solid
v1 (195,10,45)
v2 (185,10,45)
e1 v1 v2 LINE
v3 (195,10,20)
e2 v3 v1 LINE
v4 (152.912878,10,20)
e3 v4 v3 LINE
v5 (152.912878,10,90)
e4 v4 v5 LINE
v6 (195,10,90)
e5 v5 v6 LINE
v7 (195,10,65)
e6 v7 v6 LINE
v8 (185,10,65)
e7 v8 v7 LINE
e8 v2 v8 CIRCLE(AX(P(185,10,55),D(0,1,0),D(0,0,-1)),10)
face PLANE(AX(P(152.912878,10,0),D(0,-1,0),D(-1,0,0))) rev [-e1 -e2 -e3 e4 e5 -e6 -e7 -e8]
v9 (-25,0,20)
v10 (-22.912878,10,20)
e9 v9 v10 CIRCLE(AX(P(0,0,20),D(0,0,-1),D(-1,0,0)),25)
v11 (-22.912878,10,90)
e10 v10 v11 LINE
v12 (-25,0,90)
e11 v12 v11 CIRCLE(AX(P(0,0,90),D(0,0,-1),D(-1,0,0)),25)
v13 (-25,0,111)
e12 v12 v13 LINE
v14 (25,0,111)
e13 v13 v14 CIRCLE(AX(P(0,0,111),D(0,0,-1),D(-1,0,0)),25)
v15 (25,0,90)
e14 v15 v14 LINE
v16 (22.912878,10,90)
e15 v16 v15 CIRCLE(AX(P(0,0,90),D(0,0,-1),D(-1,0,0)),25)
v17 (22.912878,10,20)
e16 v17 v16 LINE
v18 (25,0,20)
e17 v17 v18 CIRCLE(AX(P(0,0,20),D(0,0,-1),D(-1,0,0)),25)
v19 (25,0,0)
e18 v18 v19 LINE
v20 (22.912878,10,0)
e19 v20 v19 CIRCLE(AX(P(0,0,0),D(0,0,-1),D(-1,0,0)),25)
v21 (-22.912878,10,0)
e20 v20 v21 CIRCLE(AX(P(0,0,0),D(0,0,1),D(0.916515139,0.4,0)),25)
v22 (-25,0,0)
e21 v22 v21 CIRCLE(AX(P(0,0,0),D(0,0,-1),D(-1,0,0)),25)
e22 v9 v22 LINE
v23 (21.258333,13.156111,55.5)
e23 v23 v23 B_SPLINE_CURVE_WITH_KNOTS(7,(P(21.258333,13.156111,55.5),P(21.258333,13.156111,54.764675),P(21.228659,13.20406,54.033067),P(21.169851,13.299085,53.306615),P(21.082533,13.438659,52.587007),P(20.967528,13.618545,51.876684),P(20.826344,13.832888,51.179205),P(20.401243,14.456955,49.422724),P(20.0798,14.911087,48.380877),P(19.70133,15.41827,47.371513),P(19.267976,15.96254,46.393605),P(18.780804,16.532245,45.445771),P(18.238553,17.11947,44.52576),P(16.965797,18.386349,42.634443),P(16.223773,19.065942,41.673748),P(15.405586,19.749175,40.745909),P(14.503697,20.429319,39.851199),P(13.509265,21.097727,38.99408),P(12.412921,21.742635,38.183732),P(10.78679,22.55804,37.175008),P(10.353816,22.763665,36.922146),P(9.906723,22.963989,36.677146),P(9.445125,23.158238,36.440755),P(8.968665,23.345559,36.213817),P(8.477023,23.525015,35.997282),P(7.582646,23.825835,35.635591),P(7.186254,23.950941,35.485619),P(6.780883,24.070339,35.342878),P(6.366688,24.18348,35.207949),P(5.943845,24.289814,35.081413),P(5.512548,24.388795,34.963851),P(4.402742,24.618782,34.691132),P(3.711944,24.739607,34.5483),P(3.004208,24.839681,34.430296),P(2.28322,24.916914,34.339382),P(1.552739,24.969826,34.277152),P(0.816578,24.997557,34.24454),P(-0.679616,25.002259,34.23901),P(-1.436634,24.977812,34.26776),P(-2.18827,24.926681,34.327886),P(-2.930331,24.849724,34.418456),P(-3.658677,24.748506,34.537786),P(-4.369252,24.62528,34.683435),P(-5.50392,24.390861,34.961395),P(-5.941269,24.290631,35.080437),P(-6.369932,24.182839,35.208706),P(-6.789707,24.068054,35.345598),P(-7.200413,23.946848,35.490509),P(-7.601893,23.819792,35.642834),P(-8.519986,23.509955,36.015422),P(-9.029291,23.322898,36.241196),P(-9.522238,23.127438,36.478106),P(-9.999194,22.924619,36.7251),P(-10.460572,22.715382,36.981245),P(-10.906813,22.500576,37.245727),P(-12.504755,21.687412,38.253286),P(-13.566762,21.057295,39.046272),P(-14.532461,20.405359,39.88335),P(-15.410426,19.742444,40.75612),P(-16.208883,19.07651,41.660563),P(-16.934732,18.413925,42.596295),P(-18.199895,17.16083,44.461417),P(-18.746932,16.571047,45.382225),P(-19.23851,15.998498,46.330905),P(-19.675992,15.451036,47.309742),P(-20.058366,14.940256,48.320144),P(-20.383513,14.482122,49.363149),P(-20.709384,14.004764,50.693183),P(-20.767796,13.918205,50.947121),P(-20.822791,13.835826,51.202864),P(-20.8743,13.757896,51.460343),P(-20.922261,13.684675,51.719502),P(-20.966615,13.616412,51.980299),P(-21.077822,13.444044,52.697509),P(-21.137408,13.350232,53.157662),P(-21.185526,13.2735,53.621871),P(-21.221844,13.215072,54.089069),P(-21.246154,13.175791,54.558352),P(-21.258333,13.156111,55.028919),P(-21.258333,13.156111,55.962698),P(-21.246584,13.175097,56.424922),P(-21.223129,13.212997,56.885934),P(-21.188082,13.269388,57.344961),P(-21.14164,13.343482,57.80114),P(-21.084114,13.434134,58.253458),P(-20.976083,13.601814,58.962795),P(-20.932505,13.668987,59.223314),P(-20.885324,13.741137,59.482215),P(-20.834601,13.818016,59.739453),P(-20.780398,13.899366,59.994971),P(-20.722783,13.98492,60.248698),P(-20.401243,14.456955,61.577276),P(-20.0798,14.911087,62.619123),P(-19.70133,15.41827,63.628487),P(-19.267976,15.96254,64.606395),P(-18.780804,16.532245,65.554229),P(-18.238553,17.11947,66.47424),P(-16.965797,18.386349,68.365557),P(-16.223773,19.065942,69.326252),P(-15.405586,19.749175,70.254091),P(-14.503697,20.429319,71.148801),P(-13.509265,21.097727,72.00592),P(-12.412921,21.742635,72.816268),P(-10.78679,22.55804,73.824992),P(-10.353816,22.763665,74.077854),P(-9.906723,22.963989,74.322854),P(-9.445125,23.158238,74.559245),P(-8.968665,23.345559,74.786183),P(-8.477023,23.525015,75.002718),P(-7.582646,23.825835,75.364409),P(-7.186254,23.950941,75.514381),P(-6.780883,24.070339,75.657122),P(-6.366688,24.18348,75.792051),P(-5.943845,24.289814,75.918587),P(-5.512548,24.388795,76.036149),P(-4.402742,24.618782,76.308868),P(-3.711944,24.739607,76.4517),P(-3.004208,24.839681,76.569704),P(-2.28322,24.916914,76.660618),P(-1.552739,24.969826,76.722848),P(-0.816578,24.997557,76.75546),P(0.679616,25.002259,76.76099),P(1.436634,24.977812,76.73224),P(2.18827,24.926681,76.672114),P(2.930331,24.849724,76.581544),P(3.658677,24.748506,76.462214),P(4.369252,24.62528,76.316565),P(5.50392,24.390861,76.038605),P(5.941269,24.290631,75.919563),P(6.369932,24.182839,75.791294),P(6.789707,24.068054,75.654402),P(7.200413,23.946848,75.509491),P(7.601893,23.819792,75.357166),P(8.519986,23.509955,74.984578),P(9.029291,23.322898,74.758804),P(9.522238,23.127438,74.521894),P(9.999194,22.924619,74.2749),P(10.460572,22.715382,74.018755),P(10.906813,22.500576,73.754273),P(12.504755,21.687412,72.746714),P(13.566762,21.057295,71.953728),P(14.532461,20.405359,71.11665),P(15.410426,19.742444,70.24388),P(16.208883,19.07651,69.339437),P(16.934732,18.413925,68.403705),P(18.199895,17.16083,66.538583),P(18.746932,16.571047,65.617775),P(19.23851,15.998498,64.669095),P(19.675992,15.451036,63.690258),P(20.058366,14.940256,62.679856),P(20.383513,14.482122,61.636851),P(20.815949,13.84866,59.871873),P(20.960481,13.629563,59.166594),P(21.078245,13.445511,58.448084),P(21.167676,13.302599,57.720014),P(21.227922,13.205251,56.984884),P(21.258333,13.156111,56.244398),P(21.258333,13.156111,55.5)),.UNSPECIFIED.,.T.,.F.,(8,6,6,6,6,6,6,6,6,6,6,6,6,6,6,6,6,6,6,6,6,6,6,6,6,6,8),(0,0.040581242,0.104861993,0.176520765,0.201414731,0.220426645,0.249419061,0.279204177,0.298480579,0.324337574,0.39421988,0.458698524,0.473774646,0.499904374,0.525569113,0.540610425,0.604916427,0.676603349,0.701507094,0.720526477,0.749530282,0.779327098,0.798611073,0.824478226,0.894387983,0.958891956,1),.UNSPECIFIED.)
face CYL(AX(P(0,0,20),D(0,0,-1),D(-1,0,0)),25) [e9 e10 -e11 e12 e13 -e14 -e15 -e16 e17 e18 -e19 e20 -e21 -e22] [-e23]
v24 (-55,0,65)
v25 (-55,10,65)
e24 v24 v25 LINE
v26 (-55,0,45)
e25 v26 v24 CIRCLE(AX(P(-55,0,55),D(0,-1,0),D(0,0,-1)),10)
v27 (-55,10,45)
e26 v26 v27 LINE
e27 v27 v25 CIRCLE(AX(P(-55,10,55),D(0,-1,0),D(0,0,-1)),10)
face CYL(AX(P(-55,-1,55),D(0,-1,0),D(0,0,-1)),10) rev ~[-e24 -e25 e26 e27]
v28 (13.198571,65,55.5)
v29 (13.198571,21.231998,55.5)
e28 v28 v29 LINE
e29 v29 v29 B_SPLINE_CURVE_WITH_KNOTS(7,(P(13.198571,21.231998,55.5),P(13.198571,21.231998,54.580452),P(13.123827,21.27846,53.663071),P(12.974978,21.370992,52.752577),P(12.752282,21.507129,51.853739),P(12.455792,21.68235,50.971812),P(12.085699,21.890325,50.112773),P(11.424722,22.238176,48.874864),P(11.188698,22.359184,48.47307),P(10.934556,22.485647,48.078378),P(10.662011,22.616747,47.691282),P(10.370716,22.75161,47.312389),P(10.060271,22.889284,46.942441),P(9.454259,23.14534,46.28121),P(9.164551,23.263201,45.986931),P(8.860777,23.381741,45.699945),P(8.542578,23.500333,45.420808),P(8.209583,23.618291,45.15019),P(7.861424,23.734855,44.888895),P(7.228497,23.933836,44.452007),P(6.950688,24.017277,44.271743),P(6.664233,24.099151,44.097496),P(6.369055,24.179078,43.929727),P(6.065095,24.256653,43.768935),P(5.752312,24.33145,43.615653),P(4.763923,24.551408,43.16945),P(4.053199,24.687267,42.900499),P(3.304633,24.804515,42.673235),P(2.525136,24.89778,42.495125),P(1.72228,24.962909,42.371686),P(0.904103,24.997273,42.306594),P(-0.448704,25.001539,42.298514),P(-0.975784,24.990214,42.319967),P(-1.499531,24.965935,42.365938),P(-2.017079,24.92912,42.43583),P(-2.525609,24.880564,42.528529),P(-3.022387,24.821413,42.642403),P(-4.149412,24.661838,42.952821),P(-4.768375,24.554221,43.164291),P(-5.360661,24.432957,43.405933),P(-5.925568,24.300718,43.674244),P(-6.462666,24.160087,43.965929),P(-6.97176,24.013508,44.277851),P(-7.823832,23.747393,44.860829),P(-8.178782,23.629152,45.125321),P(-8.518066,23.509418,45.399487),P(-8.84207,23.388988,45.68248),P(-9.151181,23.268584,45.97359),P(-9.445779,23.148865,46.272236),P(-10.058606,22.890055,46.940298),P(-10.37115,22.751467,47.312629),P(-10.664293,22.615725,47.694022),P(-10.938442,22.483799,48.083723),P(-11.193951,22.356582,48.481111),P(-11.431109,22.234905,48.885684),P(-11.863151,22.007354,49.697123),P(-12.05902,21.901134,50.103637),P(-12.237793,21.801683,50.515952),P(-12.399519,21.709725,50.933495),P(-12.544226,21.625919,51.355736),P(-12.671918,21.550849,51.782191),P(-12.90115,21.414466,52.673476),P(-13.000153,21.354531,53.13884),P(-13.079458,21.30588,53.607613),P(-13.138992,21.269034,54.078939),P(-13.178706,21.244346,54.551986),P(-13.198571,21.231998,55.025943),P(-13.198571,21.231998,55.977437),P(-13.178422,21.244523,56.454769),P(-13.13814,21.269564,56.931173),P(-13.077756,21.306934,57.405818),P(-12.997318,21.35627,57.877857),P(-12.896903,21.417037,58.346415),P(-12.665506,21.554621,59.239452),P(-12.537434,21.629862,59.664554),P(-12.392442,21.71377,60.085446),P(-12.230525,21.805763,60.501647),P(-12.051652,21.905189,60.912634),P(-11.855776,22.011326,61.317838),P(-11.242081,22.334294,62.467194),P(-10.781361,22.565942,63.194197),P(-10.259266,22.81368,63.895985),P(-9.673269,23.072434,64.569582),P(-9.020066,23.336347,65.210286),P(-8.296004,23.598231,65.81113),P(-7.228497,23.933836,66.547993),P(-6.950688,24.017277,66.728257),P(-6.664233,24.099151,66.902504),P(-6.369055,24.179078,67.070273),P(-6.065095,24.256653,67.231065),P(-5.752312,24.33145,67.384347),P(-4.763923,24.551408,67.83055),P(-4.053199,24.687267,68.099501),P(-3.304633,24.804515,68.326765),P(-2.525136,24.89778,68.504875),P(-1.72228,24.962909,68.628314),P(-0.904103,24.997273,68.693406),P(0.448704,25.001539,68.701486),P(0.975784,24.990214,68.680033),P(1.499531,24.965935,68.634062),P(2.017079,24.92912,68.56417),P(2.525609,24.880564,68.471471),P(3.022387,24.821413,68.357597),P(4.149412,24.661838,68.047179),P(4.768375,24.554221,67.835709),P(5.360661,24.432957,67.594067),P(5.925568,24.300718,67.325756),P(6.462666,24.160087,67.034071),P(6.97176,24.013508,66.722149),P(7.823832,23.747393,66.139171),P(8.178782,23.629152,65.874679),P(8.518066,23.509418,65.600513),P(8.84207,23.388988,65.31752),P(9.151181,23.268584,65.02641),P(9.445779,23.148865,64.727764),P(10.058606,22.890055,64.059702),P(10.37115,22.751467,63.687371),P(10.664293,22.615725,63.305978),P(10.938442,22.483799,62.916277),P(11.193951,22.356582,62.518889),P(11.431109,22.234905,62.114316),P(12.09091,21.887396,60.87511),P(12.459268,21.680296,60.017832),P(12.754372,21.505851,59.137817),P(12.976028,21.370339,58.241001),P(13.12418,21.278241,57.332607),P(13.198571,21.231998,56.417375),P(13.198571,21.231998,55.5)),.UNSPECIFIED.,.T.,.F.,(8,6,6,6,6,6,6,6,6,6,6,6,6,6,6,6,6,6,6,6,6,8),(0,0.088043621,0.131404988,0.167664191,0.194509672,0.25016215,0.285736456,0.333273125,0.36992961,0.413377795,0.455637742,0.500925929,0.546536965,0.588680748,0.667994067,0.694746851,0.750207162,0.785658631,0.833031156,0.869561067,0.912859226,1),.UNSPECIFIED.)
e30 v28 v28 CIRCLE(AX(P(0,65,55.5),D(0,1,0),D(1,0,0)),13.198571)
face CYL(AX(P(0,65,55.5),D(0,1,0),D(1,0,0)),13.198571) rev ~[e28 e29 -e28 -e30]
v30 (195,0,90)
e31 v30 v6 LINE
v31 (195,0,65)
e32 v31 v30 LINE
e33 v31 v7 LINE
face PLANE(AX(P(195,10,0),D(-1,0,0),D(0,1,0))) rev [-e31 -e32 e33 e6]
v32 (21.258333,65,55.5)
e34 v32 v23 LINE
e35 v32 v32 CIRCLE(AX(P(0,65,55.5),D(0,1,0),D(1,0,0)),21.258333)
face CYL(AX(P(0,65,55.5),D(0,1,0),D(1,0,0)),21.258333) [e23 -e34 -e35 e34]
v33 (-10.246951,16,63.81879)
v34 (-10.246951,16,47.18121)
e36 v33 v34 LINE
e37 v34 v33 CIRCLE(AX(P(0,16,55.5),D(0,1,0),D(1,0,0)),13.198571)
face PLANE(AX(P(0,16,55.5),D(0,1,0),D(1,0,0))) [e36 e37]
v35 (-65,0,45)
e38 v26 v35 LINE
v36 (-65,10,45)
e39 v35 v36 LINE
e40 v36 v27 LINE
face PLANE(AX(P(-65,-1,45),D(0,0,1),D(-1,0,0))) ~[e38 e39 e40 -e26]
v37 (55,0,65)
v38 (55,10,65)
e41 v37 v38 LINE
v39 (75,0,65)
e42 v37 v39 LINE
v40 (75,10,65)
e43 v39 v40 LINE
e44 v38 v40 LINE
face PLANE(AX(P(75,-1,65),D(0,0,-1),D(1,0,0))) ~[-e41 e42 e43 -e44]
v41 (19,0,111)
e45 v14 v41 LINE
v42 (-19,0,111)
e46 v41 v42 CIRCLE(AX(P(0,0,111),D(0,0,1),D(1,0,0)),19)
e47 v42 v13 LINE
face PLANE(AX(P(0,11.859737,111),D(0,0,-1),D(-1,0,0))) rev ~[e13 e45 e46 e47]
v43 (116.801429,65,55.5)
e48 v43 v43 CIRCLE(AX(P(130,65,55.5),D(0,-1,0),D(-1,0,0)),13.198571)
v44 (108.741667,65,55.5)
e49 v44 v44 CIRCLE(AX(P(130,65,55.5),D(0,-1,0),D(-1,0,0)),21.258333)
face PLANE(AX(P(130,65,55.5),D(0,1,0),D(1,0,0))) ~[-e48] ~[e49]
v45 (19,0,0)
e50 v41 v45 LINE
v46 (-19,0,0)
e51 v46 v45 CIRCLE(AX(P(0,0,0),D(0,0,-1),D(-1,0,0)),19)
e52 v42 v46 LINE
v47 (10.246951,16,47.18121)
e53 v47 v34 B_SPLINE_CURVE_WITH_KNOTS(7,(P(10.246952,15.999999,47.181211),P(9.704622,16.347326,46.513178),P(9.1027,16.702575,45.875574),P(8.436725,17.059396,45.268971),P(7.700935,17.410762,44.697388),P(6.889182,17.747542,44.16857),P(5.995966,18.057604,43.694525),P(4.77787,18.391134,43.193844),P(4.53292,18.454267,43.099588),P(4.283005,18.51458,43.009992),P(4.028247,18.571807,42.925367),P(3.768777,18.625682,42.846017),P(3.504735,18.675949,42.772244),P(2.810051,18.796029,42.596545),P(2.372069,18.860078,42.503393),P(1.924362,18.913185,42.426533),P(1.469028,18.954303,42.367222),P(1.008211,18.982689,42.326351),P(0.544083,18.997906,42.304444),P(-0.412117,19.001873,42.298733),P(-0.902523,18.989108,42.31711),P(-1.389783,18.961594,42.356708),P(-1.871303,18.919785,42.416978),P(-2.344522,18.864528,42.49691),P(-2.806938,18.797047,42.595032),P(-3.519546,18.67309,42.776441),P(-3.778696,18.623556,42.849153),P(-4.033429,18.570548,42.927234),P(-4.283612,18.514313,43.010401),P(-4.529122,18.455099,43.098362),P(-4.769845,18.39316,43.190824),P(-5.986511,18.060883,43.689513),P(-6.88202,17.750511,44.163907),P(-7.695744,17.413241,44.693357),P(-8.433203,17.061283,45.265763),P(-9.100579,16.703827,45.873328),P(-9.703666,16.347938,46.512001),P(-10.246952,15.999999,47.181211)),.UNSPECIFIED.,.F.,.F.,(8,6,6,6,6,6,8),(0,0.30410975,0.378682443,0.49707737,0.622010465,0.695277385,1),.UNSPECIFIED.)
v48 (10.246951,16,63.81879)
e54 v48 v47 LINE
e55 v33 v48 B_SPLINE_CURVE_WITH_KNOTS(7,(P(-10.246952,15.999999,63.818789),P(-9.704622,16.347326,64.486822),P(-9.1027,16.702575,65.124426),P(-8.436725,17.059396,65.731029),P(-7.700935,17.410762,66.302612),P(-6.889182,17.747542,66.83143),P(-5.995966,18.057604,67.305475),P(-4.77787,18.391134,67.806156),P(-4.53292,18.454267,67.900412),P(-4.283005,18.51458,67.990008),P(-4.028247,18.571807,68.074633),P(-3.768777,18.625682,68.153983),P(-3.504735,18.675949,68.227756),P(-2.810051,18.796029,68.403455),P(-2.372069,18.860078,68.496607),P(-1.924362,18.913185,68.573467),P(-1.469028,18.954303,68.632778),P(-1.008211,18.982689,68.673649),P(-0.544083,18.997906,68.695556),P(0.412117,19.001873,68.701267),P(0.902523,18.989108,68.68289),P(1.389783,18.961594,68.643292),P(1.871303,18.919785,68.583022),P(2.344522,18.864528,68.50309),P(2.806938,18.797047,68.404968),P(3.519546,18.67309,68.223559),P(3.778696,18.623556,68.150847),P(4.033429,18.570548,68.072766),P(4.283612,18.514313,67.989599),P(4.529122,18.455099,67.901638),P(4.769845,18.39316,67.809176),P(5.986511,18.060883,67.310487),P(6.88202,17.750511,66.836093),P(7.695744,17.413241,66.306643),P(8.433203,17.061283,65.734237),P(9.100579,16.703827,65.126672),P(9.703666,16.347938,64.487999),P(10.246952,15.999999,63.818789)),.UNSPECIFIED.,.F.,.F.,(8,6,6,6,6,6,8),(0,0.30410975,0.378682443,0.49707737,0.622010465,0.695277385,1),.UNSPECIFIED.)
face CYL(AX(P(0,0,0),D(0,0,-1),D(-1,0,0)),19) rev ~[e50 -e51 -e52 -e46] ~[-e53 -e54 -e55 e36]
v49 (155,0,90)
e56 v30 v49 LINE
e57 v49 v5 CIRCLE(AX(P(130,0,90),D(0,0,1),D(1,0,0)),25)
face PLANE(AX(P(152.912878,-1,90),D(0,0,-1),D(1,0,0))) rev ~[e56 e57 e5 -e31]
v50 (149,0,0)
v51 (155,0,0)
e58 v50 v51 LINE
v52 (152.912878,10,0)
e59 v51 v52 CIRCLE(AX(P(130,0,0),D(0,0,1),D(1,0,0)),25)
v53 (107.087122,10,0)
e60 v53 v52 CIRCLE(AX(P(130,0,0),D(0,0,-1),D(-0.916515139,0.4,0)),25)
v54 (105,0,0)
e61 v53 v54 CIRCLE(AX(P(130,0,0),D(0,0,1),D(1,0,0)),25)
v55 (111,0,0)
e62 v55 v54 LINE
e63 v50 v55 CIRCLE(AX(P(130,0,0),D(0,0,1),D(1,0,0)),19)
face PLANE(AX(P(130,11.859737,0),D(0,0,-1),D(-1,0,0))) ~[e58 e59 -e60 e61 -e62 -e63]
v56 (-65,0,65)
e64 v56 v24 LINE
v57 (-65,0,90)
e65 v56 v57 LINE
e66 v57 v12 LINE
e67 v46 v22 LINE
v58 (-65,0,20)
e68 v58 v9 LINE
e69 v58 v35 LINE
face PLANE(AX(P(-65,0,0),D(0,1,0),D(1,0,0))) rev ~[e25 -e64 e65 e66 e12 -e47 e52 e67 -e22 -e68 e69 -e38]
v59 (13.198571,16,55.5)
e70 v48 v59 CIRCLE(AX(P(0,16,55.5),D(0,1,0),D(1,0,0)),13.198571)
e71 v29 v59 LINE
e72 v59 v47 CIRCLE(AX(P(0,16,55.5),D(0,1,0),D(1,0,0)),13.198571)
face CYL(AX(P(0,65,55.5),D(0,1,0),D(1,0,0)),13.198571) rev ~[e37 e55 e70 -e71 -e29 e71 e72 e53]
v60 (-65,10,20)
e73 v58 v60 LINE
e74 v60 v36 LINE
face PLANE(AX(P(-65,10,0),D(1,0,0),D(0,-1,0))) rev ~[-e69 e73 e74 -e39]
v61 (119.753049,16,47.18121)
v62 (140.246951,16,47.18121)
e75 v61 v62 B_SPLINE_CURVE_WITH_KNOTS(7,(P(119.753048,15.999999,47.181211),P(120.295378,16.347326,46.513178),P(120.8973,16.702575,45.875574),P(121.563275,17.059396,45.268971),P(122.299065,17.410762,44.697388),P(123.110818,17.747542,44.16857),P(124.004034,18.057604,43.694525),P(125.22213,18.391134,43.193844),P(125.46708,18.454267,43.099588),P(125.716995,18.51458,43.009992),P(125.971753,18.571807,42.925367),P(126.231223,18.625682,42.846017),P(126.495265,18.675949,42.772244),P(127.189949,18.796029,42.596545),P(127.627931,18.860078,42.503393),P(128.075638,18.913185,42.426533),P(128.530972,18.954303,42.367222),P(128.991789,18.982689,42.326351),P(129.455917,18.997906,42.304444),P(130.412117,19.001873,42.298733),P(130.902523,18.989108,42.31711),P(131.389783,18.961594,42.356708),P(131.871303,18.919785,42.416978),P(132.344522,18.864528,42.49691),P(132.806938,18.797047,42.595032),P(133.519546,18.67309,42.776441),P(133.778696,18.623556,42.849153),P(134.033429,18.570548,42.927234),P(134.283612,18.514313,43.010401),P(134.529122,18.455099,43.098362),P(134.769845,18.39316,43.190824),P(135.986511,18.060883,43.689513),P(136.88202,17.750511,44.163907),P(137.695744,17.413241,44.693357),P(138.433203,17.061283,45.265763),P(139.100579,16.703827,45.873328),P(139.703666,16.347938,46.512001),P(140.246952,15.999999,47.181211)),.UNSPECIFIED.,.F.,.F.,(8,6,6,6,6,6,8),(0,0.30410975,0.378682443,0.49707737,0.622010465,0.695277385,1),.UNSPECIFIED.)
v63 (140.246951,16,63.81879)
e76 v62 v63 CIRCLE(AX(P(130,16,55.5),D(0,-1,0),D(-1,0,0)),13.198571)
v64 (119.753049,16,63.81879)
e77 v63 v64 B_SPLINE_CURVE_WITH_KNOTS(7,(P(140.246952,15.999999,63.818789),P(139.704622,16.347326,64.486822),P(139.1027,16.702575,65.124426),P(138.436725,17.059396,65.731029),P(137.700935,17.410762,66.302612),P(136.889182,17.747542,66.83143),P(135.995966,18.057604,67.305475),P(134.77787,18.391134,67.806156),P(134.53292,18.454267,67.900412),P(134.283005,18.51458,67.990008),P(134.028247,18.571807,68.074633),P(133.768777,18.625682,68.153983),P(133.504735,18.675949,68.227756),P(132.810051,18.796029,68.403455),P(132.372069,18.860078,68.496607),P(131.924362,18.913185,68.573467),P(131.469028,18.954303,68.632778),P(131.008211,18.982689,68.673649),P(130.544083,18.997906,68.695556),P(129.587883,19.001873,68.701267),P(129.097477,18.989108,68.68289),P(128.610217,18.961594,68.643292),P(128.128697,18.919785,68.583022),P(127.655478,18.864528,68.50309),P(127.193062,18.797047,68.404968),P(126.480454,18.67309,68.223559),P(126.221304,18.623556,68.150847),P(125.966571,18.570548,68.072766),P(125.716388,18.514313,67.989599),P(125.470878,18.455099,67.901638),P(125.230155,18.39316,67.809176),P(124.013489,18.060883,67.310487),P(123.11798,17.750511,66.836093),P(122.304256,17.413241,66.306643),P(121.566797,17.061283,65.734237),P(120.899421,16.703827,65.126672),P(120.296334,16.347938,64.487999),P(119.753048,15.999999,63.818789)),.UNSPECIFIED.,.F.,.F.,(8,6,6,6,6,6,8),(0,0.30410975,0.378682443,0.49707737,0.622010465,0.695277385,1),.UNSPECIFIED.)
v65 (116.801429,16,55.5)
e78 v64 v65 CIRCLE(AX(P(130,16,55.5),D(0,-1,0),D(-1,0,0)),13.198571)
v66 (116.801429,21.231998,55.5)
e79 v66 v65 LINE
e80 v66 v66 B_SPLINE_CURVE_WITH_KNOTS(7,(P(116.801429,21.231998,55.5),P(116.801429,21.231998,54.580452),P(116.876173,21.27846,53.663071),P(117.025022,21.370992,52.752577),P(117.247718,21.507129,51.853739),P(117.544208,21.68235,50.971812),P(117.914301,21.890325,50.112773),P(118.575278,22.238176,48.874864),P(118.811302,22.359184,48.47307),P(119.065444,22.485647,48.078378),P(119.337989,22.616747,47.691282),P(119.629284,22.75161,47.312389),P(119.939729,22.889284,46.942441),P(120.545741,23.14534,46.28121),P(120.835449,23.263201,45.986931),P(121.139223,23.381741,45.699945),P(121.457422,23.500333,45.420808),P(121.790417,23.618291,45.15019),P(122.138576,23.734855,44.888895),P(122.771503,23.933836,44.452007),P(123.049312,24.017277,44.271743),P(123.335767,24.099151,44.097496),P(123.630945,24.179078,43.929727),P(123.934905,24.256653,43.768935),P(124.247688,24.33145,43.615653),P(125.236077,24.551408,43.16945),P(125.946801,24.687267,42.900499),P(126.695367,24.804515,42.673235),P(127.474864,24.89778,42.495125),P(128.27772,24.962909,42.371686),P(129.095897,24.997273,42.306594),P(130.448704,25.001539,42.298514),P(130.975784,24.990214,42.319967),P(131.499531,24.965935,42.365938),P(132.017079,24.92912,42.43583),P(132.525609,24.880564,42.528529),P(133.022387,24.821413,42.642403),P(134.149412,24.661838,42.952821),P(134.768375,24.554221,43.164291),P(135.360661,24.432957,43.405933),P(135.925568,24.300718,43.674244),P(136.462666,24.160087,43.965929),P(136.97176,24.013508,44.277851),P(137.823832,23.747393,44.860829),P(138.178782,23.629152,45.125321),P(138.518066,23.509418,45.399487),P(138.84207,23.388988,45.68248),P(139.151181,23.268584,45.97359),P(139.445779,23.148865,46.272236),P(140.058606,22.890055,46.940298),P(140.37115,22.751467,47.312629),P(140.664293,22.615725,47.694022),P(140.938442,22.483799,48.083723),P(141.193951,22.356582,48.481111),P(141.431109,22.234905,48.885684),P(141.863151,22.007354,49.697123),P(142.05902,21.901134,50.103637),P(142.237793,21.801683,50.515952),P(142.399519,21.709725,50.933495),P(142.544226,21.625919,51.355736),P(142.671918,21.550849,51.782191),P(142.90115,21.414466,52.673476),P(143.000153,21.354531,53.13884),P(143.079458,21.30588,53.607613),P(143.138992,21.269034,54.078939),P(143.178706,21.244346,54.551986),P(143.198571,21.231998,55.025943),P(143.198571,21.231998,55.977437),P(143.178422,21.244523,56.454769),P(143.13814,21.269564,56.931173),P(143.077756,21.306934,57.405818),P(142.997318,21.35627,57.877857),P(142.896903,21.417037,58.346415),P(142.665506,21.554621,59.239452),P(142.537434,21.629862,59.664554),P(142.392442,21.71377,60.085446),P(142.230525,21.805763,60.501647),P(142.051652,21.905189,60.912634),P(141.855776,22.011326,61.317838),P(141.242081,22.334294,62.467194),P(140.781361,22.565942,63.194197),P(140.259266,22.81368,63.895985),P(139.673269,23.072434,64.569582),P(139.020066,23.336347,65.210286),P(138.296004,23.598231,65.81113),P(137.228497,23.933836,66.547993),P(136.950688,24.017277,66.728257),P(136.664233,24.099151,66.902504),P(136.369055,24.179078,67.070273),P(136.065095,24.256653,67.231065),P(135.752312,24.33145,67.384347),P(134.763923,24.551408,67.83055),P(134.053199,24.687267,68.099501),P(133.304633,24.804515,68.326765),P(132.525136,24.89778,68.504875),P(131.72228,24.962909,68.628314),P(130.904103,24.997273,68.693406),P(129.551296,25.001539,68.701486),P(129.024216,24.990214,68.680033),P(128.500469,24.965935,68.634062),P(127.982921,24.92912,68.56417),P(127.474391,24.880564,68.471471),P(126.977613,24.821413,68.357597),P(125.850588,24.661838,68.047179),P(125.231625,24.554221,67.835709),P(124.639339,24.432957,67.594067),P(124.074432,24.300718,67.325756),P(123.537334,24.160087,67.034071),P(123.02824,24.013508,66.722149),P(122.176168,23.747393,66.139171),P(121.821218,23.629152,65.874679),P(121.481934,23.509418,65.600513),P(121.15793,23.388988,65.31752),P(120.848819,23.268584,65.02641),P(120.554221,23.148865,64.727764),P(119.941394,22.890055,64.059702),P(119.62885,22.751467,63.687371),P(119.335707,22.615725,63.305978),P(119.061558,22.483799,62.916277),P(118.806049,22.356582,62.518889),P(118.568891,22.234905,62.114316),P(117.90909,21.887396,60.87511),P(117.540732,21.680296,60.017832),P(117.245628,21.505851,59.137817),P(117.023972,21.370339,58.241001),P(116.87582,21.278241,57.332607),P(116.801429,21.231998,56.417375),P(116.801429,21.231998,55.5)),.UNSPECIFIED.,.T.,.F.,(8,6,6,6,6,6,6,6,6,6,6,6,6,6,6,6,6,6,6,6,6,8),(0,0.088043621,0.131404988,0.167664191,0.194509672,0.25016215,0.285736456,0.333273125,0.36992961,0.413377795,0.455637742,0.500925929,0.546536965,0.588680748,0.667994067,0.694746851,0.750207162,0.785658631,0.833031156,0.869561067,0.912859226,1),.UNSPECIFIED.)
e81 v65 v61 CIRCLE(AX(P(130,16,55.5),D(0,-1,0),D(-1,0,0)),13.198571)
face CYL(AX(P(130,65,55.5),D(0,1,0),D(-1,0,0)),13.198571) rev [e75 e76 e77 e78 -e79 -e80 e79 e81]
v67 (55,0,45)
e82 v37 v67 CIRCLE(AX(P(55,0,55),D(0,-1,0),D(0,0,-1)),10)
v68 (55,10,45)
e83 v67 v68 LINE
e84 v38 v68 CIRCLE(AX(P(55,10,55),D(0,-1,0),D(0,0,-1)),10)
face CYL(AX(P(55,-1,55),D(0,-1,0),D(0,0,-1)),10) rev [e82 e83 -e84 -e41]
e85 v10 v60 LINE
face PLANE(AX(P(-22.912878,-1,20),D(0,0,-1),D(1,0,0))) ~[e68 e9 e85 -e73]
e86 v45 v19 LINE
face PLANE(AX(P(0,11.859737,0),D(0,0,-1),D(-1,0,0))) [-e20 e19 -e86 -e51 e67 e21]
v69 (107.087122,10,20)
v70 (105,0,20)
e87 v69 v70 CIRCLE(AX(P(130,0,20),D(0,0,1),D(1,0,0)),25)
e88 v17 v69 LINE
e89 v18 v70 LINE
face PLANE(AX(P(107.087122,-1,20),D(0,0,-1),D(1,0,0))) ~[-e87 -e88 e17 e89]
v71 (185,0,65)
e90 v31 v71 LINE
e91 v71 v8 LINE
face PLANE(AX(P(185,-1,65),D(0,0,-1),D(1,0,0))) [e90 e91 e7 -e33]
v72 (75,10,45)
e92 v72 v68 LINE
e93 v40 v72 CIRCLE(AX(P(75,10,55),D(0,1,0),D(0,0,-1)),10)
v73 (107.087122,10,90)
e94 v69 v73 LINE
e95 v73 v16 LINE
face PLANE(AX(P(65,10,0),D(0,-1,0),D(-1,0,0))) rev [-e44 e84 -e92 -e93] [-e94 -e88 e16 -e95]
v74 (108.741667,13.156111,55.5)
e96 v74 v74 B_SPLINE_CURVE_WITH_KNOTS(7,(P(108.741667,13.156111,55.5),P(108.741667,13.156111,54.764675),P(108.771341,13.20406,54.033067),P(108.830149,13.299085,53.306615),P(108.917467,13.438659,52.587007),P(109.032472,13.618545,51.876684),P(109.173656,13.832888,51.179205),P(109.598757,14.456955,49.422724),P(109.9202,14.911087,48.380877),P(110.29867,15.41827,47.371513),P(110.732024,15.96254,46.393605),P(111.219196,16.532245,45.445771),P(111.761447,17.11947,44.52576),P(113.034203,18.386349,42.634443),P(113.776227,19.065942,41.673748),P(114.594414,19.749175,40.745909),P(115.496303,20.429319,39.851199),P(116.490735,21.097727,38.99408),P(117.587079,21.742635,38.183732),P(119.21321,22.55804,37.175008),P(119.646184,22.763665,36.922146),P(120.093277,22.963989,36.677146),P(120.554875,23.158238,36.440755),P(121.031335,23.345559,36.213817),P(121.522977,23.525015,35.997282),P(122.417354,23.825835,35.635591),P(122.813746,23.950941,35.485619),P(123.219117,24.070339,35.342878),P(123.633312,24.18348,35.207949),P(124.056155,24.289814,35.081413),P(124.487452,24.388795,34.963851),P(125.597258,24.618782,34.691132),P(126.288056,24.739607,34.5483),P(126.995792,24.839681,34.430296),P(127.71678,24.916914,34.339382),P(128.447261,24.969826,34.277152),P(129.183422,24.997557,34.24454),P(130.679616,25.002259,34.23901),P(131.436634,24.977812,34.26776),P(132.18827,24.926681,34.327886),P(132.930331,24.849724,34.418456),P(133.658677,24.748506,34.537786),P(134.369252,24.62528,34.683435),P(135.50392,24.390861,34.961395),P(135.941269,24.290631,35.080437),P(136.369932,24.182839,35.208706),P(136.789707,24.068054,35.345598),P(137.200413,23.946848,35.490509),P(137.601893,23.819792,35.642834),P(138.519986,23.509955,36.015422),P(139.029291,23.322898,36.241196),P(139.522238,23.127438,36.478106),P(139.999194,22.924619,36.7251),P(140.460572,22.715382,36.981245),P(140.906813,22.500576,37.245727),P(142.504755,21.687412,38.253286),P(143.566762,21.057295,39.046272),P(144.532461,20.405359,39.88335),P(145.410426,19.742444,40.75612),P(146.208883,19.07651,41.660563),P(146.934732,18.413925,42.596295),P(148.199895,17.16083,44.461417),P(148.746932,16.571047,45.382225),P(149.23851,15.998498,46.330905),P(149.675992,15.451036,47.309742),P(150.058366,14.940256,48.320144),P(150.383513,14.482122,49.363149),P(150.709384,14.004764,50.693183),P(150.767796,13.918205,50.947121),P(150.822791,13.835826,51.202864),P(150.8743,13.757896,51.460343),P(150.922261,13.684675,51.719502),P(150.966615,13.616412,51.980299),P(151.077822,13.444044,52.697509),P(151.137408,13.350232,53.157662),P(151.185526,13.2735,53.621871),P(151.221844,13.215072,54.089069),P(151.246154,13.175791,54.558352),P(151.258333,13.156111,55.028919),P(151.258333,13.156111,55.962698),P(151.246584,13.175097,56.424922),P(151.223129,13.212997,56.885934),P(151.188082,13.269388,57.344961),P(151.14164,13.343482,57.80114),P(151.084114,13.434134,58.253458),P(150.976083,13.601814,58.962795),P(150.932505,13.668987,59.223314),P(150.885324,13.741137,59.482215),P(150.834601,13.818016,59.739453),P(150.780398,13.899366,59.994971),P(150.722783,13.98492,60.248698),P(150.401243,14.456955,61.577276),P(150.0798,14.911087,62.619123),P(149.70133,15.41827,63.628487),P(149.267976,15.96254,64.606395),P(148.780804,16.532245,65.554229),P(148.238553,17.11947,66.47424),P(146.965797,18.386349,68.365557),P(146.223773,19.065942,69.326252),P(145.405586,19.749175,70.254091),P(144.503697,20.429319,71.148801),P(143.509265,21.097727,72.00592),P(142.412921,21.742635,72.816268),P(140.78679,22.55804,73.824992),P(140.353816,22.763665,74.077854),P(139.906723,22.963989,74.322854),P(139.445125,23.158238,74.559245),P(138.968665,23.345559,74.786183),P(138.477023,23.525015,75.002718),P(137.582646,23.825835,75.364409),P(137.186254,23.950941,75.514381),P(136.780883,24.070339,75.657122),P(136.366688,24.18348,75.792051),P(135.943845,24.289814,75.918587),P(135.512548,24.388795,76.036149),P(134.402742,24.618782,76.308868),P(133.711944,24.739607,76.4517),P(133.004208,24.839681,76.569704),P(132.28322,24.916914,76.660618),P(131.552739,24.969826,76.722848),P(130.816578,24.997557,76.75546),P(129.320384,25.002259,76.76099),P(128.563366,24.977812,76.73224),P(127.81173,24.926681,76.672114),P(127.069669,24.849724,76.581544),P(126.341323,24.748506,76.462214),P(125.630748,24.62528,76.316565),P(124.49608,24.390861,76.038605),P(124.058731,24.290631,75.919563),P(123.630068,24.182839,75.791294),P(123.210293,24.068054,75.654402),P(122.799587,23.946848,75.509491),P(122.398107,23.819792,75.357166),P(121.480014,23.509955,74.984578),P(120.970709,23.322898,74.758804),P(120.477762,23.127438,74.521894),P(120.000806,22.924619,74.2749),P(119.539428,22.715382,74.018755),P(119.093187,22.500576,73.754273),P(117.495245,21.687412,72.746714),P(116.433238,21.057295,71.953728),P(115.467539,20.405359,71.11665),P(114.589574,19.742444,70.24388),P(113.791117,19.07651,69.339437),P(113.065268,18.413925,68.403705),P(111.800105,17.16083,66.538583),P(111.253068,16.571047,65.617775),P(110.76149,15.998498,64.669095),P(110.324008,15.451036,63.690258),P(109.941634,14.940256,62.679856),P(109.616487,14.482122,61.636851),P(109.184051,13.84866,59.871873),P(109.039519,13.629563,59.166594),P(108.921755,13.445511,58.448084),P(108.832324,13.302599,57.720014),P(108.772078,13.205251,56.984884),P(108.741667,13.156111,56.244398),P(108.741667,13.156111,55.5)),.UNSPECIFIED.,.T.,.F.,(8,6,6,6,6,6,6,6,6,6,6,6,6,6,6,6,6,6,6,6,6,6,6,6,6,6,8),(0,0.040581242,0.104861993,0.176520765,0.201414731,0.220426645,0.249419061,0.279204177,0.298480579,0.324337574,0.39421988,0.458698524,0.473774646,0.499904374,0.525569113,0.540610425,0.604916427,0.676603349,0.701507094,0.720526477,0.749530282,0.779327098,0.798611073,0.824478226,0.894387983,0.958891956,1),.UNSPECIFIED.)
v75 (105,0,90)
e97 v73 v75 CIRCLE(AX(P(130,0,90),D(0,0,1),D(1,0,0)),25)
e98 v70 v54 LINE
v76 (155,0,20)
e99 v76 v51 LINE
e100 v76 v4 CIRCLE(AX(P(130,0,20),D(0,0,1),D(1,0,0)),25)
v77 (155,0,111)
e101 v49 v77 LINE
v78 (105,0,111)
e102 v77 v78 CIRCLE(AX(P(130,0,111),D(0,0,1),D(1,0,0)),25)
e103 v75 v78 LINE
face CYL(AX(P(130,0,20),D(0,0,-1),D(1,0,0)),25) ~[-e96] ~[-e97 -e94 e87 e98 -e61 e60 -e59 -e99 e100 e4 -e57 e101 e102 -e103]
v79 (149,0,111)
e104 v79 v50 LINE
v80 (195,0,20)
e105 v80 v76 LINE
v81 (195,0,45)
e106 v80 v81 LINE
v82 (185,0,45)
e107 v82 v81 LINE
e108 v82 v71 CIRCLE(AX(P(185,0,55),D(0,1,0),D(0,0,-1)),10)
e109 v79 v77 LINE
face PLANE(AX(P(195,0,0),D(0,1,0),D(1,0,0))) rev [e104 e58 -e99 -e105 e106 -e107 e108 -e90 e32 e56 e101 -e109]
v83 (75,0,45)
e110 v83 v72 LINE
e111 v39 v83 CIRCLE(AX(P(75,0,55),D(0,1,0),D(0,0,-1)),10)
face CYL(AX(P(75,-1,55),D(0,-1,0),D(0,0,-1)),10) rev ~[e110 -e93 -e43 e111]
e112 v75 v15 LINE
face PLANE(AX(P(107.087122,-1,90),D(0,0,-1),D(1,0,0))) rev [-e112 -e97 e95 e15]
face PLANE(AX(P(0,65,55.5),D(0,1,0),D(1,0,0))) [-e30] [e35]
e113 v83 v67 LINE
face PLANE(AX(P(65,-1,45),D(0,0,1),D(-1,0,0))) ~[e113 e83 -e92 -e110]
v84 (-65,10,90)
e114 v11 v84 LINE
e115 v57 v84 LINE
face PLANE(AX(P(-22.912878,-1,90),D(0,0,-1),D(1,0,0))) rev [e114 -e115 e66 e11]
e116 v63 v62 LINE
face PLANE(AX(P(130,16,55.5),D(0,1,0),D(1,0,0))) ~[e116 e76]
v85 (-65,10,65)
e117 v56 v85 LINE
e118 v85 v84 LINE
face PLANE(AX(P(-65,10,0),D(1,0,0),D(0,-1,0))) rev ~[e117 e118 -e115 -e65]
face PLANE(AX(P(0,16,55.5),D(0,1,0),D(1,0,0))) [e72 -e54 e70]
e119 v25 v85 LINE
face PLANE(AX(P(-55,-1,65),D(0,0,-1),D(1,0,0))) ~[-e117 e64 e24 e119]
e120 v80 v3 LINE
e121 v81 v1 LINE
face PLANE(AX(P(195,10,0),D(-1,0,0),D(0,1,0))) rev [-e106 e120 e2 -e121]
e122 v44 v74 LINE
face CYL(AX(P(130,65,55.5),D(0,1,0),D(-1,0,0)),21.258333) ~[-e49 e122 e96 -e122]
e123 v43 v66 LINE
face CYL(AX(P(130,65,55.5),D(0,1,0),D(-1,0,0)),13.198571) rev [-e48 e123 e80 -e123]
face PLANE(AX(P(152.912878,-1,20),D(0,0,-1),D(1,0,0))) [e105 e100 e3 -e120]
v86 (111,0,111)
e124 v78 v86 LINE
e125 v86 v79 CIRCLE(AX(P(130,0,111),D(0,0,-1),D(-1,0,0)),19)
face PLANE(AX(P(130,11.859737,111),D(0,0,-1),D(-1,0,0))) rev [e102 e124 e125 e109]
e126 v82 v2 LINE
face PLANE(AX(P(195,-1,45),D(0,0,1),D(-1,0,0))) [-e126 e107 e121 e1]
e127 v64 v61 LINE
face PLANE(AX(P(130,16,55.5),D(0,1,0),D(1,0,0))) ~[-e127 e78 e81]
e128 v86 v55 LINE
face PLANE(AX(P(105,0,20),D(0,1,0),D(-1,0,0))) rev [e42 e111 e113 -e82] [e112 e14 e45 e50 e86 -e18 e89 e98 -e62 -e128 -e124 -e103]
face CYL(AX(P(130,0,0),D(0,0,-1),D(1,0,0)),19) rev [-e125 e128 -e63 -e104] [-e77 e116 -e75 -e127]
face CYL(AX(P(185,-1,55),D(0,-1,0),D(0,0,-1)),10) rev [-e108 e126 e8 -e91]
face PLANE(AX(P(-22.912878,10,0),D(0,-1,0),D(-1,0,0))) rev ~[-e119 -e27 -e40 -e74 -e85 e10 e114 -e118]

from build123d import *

# Parameters (mm, degrees)
BOSS_EXTRUDE1_DEPTH      = 110
CUT_EXTRUDE3_START       = -11
SKETCH3_W                = 42.087121525
SKETCH3_H                = 20
CUT_EXTRUDE3_DEPTH       = 27
BOSS_EXTRUDE4_DEPTH      = 20
BOSS_EXTRUDE4_DEPTH_BACK = 91
BOSS_EXTRUDE5_REACH      = 67
SKETCH8_R                = 21.258333205
SKETCH8_R_2              = 13.198570557
SKETCH9_R                = 13.198570557
CUT_EXTRUDE4_DEPTH       = 49


with BuildPart() as part:
    # Sketch2 → Boss-Extrude1 (new body)
    with BuildSketch(Plane.XY):
        with BuildLine():
            Line((-65, 0), (-19, 0))
            ThreePointArc((-19, 0), (0, 19), (19, 0))
            Line((19, 0), (65, 0))
            Line((65, 0), (65, 10))
            Line((65, 10), (22.912878475, 10))
            ThreePointArc((22.912878475, 10), (0, 25), (-22.912878475, 10))
            Line((-22.912878475, 10), (-65, 10))
            Line((-65, 10), (-65, 0))
        make_face()
    extrude(amount=BOSS_EXTRUDE1_DEPTH)

    # Sketch3 → Cut-Extrude3 (cut)
    with BuildSketch(Plane(origin=(0, 10, 0), x_dir=(1, 0, 0), z_dir=(0, 1, 0)).offset(CUT_EXTRUDE3_START)):
        with Locations((43.956439237, -10)):
            Rectangle(SKETCH3_W, SKETCH3_H)
        with BuildLine():
            Line((65, -55), (65, -45))
            Line((65, -45), (55, -45))
            ThreePointArc((55, -45), (45, -55), (55, -65))
            Line((55, -65), (65, -65))
            Line((65, -65), (65, -55))
        make_face()
        with Locations((43.956439237, -100)):
            Rectangle(SKETCH3_W, SKETCH3_H)
    cut_extrude3 = extrude(amount=CUT_EXTRUDE3_DEPTH, mode=Mode.SUBTRACT)

    # Mirror1: Cut-Extrude3 across plane
    add(cut_extrude3.mirror(Plane(origin=(0, 0, 0), x_dir=(0, 0, 1), z_dir=(1, 0, 0))), mode=Mode.SUBTRACT)

    # Sketch7 → Boss-Extrude4 (add, two sides)
    with BuildSketch(Plane(origin=(0, 0, 20), x_dir=(-1, 0, 0), z_dir=(0, 0, -1))) as boss_extrude4_sk:
        with BuildLine():
            Line((-25, 0), (-19, 0))
            ThreePointArc((-19, 0), (0, 19), (19, 0))
            Line((19, 0), (25, 0))
            ThreePointArc((25, 0), (0, 25), (-25, 0))
        make_face()
    extrude(amount=BOSS_EXTRUDE4_DEPTH)
    extrude(boss_extrude4_sk.sketch, amount=-BOSS_EXTRUDE4_DEPTH_BACK)

    # Sketch8 → Boss-Extrude5 (add, up to next)
    with BuildSketch(Plane(origin=(0, 65, 0), x_dir=(1, 0, 0), z_dir=(0, 1, 0)), mode=Mode.PRIVATE) as boss_extrude5_sk1:
        with Locations((0, -55.5)):
            Circle(SKETCH8_R)
        with Locations((0, -55.5)):
            Circle(SKETCH8_R_2, mode=Mode.SUBTRACT)
    boss_extrude5_tool1 = extrude(boss_extrude5_sk1.sketch, amount=-BOSS_EXTRUDE5_REACH, mode=Mode.PRIVATE) - part.part
    add(boss_extrude5_tool1.solids().sort_by_distance((-20.657057, 65, 55.5))[0])

    # Sketch9 → Cut-Extrude4 (cut)
    with BuildSketch(Plane(origin=(0, 65, 0), x_dir=(1, 0, 0), z_dir=(0, 1, 0))):
        with Locations((0, -55.5)):
            Circle(SKETCH9_R)
    extrude(amount=-CUT_EXTRUDE4_DEPTH, mode=Mode.SUBTRACT)

    # Mirror2: part across plane


with BuildPart() as part_1:
    add(part.part)
    add(part.part.mirror(Plane(origin=(65, 0, 0), x_dir=(0, 0, 1), z_dir=(1, 0, 0))))


solid = part_1.part
